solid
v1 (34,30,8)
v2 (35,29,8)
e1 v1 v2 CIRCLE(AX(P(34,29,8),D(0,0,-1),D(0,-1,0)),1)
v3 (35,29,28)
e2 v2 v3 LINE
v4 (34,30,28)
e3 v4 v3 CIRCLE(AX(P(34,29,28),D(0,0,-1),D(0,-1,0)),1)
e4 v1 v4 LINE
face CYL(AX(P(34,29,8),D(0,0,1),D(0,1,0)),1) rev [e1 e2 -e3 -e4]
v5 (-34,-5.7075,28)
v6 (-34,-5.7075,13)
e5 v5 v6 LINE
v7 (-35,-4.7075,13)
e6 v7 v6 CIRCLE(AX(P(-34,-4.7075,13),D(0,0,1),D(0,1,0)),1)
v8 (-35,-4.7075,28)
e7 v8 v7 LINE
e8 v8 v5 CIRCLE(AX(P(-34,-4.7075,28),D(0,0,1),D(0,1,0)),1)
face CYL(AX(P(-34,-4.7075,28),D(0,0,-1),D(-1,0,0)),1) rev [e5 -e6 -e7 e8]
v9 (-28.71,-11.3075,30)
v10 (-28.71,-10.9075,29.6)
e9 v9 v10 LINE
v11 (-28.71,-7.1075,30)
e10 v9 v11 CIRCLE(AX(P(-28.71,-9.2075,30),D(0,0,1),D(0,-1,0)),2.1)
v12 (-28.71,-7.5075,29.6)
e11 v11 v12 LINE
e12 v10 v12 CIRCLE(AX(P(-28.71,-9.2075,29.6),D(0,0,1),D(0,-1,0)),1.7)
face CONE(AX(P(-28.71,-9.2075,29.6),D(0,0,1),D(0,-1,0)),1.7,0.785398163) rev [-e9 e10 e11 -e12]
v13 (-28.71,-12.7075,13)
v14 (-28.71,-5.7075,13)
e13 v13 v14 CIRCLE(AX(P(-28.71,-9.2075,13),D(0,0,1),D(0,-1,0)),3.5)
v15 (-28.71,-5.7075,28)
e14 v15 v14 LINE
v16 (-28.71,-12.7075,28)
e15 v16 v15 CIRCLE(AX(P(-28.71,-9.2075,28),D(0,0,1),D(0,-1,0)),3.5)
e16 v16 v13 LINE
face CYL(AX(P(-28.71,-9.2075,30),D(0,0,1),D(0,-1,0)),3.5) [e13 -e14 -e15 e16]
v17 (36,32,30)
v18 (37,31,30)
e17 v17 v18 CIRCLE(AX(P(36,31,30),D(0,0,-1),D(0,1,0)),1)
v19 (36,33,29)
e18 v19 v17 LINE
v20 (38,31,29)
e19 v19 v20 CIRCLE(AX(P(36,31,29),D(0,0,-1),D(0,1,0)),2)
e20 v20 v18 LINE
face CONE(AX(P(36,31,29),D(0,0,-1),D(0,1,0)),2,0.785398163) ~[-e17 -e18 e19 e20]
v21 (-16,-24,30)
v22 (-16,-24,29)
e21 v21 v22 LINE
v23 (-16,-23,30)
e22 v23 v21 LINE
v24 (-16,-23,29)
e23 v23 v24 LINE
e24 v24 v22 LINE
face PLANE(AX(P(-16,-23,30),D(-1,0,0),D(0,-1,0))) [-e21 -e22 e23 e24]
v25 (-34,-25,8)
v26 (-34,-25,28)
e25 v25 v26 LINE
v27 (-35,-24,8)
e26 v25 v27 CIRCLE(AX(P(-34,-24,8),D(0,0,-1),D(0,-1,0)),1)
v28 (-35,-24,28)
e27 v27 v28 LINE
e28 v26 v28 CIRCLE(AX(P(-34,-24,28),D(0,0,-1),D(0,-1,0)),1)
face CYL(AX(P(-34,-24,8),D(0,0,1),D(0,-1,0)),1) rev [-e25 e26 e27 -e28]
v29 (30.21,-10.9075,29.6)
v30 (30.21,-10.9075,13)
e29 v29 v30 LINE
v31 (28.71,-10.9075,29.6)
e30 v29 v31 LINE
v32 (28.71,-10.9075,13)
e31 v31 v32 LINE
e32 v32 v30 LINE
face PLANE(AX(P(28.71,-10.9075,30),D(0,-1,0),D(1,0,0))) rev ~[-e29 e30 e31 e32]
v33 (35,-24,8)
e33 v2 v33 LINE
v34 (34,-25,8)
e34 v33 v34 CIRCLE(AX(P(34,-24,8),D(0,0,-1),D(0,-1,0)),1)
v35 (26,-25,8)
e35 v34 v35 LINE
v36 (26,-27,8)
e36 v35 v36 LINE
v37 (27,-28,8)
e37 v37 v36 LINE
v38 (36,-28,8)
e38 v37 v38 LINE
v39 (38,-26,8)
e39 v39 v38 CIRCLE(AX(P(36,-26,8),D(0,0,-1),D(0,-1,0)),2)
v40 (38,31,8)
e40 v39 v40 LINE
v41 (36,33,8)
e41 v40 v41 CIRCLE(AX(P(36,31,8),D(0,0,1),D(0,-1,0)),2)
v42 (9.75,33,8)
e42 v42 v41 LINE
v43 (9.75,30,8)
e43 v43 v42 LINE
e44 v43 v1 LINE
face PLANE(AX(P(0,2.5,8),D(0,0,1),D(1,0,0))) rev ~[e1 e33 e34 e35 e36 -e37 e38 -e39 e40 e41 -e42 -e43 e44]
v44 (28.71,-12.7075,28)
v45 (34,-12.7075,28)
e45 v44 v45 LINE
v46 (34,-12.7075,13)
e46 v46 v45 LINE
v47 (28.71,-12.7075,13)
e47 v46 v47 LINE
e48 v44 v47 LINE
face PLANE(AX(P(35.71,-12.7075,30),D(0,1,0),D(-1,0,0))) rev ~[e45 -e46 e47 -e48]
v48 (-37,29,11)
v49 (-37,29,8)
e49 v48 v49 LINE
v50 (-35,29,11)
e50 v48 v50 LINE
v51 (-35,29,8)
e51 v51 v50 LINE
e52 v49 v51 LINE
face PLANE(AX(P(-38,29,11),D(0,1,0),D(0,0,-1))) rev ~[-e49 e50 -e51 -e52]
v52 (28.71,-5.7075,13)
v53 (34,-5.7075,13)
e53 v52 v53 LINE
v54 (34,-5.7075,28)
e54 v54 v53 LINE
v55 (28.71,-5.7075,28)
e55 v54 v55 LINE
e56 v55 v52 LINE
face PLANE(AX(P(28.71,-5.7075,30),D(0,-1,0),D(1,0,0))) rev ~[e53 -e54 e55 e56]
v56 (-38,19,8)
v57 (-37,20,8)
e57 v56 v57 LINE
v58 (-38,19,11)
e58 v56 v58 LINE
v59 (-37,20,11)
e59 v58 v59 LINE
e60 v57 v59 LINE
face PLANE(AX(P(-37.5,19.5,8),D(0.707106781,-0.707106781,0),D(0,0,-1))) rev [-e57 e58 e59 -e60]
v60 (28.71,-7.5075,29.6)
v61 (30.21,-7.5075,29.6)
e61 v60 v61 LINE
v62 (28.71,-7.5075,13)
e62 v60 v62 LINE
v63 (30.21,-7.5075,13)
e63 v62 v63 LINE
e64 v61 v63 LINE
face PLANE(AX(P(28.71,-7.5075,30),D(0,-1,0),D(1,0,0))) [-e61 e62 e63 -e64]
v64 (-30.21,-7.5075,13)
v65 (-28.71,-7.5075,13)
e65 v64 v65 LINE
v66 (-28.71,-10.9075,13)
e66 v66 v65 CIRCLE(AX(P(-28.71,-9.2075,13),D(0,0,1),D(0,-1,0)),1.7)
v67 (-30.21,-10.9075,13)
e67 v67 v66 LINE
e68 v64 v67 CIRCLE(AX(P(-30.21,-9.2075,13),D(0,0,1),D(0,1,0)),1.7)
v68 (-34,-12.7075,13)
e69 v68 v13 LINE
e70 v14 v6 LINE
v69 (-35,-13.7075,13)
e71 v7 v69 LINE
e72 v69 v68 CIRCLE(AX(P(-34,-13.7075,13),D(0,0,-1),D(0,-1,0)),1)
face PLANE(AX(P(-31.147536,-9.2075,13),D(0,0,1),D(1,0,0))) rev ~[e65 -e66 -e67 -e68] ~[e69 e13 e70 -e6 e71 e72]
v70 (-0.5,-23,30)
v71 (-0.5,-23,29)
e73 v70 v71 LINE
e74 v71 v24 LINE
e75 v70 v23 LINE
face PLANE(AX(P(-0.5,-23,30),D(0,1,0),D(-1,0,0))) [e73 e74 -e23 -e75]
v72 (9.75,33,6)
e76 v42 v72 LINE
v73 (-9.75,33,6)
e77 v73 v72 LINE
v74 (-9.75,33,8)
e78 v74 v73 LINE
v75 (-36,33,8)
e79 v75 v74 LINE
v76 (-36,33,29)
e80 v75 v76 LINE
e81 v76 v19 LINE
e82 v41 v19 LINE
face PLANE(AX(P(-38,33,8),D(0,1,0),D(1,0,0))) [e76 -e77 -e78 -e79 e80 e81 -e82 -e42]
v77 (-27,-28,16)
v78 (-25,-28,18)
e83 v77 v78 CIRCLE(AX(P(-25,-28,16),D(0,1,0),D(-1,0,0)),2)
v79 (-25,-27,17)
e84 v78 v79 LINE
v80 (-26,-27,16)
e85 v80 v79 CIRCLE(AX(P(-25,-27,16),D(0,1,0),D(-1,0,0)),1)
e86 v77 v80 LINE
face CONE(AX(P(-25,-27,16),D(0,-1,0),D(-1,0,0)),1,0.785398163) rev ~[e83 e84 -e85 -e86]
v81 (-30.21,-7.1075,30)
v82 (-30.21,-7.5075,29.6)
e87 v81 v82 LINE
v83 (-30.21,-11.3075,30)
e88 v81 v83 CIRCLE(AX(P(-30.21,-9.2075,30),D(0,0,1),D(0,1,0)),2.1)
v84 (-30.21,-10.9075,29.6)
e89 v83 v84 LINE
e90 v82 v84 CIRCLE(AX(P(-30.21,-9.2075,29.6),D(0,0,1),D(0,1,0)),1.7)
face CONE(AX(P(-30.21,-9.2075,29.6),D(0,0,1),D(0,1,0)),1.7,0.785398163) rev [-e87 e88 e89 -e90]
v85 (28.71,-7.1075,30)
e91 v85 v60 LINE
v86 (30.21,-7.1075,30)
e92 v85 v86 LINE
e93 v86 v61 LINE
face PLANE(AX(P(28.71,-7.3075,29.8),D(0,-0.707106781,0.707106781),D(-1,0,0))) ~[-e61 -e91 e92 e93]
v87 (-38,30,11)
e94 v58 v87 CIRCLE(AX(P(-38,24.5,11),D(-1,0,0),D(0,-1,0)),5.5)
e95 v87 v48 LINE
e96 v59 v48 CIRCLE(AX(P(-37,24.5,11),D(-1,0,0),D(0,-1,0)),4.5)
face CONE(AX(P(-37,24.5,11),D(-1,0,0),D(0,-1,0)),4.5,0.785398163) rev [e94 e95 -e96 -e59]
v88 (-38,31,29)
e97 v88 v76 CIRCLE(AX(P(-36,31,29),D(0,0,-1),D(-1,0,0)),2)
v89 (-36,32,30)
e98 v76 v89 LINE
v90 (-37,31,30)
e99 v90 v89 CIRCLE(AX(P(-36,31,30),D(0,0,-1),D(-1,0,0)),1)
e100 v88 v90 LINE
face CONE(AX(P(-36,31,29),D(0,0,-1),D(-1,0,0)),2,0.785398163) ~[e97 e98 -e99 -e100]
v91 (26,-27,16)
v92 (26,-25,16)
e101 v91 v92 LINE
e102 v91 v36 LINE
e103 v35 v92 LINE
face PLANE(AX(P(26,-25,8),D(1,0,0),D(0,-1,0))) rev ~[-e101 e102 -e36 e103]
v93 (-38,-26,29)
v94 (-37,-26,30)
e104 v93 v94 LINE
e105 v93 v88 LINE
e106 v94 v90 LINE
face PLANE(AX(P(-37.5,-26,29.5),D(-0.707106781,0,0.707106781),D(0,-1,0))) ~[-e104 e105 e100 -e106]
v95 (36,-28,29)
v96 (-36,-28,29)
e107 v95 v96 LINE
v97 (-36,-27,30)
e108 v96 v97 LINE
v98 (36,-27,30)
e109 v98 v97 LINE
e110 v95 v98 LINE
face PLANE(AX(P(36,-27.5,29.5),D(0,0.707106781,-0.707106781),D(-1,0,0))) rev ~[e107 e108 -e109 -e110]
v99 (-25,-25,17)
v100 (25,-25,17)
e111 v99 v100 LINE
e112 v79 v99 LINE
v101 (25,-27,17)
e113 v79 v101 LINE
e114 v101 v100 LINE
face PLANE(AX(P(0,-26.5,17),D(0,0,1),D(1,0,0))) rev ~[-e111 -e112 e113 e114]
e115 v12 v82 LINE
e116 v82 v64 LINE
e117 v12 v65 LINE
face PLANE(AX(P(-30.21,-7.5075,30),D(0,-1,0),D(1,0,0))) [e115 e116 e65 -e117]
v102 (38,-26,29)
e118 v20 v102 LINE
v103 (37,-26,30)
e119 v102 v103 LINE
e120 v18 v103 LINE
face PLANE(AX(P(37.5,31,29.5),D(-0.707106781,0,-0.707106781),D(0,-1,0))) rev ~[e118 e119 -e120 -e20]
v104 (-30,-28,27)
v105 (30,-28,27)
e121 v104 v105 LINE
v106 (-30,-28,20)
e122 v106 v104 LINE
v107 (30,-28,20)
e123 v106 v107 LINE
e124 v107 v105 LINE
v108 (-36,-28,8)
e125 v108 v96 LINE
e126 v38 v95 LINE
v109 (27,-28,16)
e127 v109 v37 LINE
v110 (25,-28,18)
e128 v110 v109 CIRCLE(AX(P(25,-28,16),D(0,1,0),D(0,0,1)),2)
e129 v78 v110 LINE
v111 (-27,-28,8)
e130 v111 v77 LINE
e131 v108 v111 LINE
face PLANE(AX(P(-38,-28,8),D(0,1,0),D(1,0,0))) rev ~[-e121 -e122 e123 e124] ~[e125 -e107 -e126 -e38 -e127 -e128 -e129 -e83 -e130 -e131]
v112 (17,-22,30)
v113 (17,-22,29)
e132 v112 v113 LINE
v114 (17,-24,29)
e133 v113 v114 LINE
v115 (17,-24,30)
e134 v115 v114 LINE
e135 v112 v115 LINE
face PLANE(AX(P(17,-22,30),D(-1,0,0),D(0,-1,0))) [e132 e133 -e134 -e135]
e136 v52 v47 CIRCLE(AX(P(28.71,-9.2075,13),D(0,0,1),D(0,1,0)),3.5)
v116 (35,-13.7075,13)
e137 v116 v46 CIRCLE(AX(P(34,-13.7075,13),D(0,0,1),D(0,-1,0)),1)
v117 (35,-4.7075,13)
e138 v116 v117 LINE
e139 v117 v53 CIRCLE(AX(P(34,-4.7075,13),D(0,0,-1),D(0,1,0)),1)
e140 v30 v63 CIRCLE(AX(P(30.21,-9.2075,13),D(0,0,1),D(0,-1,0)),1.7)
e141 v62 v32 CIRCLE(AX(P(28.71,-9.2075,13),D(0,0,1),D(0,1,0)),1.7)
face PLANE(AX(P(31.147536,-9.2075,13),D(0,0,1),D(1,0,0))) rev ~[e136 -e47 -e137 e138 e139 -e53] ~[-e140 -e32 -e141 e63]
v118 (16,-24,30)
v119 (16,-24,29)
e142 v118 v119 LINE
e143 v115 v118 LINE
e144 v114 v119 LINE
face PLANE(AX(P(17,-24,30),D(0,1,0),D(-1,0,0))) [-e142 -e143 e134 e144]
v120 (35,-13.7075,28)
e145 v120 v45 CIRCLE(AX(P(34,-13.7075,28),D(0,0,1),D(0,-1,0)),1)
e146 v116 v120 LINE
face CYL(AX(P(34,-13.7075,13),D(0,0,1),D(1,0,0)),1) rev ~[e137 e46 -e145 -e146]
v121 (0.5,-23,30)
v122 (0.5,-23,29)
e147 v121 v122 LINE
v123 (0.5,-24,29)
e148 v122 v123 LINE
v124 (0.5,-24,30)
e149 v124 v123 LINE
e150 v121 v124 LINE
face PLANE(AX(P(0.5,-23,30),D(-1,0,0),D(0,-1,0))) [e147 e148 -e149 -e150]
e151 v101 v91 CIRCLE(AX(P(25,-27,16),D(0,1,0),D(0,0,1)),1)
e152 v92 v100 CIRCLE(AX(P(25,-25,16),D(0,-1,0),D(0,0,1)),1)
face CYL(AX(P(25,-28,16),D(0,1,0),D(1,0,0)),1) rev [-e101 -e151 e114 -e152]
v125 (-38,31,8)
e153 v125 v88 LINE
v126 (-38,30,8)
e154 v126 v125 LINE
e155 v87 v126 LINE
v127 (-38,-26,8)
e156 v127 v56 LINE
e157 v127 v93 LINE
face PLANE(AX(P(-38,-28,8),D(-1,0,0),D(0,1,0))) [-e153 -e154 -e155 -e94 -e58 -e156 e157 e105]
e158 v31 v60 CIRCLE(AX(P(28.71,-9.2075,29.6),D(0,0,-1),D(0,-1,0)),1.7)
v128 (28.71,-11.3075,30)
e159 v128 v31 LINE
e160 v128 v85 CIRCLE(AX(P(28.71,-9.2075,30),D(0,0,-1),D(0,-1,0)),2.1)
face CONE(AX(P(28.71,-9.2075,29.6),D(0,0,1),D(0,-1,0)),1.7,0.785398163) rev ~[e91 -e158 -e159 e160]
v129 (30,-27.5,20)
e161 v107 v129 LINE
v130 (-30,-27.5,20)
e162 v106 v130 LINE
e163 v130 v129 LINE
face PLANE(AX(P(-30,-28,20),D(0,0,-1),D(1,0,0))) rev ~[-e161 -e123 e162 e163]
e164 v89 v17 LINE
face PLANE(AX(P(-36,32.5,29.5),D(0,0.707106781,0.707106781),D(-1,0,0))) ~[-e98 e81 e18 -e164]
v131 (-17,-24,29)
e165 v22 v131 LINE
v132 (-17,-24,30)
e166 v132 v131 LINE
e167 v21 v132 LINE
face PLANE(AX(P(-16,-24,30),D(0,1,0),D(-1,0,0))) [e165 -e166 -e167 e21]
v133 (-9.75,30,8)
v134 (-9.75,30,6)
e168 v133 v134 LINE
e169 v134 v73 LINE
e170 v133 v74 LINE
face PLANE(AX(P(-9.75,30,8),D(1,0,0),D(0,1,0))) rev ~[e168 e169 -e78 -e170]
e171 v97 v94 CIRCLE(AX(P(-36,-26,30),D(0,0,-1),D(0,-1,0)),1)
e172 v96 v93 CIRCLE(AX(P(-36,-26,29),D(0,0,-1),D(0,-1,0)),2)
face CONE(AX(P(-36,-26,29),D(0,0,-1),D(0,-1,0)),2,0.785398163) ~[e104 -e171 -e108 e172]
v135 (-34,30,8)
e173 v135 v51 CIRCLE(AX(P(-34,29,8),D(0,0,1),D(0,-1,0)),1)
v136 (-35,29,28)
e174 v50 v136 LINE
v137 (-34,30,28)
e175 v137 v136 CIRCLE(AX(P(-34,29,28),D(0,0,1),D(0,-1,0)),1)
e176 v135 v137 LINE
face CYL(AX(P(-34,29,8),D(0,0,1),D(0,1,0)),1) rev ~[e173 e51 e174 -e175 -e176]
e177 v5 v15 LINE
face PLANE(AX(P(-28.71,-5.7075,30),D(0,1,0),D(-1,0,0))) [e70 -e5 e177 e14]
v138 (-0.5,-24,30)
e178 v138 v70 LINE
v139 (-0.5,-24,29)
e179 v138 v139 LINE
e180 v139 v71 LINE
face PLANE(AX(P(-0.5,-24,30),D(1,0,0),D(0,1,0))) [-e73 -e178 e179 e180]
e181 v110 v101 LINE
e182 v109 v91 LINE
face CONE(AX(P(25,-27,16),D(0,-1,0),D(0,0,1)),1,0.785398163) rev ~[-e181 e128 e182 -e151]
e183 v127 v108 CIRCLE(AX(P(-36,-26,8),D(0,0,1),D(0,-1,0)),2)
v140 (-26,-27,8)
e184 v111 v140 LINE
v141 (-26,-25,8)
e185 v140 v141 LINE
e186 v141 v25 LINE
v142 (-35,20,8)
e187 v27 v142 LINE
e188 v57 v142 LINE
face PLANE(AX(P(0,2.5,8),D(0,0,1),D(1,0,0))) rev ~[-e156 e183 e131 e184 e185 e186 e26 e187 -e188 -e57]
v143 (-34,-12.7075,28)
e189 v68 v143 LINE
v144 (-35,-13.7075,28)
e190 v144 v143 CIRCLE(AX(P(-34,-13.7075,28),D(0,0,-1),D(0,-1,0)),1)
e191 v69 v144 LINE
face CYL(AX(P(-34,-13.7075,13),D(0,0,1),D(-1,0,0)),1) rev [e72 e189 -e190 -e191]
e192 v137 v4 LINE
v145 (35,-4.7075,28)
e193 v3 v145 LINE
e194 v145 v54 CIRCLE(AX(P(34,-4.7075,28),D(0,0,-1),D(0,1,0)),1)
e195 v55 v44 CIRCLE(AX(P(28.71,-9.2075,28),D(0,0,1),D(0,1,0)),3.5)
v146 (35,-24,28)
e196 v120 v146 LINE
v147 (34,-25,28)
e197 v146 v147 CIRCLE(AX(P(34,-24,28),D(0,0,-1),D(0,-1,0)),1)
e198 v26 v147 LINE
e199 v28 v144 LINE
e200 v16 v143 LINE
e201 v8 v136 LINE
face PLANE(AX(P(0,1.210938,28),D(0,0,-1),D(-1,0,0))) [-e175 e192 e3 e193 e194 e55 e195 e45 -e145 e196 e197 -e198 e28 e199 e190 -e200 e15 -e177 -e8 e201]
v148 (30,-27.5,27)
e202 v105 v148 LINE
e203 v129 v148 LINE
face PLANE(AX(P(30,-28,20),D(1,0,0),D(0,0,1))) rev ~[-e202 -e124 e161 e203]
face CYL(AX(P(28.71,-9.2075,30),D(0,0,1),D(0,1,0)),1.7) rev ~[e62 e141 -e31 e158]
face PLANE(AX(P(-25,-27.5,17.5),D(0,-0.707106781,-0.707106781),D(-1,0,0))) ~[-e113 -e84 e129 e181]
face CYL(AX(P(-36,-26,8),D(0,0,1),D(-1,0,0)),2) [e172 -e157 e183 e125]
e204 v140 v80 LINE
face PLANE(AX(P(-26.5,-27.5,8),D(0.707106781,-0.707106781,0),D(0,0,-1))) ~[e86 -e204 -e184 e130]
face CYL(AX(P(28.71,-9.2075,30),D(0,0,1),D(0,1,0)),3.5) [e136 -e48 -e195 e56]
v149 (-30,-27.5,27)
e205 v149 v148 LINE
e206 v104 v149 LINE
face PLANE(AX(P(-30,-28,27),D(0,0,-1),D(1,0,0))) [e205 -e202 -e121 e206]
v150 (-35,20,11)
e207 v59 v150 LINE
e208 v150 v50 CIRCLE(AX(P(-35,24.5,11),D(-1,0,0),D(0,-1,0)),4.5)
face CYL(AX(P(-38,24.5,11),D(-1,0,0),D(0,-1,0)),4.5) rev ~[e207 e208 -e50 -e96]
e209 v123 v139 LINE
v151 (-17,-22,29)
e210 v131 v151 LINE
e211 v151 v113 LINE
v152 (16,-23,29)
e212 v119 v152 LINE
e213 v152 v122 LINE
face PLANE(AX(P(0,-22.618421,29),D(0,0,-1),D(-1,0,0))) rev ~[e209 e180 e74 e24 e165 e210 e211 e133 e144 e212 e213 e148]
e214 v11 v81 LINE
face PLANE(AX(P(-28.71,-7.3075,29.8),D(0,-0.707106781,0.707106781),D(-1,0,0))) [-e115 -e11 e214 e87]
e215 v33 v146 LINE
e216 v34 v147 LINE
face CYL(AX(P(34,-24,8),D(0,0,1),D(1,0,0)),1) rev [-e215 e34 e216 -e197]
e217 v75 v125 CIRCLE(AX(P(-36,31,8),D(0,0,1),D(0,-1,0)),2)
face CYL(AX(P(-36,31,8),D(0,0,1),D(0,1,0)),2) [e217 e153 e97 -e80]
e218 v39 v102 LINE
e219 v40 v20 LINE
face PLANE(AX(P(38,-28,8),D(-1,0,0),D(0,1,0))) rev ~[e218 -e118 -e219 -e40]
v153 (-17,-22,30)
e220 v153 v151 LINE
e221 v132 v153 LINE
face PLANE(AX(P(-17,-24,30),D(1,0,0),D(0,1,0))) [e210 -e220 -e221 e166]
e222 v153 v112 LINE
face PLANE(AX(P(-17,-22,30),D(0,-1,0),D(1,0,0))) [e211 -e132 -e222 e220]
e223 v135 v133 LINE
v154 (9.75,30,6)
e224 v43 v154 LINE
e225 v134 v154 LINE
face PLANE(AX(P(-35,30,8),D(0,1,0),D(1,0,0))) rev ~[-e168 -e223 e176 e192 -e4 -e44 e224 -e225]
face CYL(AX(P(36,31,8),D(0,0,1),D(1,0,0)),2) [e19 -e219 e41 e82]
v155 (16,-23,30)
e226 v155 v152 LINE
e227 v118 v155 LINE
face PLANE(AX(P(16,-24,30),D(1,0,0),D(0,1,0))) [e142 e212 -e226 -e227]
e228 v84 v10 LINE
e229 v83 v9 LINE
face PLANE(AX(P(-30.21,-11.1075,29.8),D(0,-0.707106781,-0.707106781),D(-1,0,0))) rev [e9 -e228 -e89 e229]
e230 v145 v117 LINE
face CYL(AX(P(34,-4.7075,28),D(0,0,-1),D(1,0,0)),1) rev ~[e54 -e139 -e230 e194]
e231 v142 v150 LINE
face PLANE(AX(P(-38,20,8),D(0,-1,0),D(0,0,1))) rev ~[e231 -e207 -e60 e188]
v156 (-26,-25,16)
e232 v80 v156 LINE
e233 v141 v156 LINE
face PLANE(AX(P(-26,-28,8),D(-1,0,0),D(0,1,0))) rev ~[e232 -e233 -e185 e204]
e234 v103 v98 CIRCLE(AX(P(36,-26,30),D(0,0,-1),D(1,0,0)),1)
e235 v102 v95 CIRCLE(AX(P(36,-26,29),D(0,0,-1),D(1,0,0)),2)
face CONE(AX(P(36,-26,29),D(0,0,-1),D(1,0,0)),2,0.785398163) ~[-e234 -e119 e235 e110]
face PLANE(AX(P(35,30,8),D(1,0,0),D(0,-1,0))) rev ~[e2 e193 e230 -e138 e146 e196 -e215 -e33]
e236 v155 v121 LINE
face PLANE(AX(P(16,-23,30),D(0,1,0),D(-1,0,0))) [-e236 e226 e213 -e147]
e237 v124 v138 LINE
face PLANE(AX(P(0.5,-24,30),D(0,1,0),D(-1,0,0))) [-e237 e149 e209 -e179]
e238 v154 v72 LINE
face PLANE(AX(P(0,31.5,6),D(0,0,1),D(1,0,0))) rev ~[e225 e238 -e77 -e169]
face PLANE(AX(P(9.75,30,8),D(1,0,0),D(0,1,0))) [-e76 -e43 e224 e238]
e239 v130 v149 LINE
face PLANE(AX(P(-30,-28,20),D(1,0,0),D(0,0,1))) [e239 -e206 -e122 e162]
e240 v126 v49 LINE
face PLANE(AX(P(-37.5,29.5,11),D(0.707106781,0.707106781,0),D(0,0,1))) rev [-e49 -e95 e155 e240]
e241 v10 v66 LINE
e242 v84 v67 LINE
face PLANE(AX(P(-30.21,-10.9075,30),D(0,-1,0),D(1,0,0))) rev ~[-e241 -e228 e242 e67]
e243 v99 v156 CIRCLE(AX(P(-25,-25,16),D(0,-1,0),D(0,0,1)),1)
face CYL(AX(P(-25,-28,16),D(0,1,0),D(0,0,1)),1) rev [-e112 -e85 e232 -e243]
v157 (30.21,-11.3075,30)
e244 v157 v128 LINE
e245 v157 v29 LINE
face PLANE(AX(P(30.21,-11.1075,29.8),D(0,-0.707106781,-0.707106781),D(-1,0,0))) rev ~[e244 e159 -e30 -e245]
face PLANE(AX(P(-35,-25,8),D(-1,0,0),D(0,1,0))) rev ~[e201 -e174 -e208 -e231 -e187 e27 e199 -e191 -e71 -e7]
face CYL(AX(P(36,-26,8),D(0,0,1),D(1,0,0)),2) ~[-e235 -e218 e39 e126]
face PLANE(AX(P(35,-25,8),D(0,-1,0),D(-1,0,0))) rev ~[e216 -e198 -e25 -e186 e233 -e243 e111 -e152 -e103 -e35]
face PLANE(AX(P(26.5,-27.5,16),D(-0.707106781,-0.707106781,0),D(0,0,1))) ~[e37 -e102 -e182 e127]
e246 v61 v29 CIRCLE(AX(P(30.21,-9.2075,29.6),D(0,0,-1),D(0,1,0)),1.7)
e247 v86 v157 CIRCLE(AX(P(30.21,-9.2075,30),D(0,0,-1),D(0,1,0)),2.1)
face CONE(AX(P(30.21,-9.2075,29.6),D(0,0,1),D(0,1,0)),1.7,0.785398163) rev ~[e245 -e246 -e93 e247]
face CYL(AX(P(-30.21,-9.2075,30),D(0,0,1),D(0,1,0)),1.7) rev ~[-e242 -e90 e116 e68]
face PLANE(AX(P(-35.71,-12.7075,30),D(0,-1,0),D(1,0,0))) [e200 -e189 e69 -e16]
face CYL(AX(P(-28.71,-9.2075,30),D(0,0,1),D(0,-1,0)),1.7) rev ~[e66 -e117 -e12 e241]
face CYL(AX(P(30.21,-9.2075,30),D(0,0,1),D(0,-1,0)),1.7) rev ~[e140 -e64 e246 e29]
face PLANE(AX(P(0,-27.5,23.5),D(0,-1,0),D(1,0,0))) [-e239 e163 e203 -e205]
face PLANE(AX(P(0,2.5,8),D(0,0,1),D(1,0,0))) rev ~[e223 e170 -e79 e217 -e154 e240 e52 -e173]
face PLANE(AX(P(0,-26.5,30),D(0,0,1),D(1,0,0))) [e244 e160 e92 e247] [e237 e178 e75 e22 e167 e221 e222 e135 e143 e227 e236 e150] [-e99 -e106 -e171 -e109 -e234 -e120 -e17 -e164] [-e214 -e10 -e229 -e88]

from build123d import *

# Parameters (mm, degrees)
SKETCH041_W              = 76
SKETCH041_H              = 61
PAD012_DEPTH             = 22
POCKET029_DEPTH          = 20
PAD013_DEPTH             = 17
POCKET030_DEPTH          = 22.001
SKETCH045_W              = 52
SKETCH045_H              = 3
PAD014_DEPTH             = 13
SKETCH046_W              = 19.5
SKETCH046_H              = 3
PAD015_DEPTH             = 2
FILLET007014_R           = 2
FILLET007015_R           = 1
POCKET041_DEPTH          = 5
CHAMFER013004014019_SIZE = 1
CHAMFER013004014020_SIZE = 1
CHAMFER013004014021_SIZE = 0.4
POCKET042_DEPTH          = 1
SKETCH061_W              = 60
SKETCH061_H              = 7
POCKET043_DEPTH          = 0.5


with BuildPart() as part:
    # Sketch041 → Pad012 (new body)
    with BuildSketch(Plane.XY):
        with Locations((0, 2.5)):
            Rectangle(SKETCH041_W, SKETCH041_H)
    extrude(amount=PAD012_DEPTH)

    # Sketch042 (on DatumPlane) → Pocket029 (cut)
    with BuildSketch(Plane.XY):
        Polygon((-26, -28), (-26, -25), (-35, -25), (-35, 30), (35, 30), (35, -25), (26, -25), (26, -28), align=None)
    extrude(amount=POCKET029_DEPTH, mode=Mode.SUBTRACT)

    # Sketch043 (on DatumPlane) → Pad013 (join)
    with BuildSketch(Plane.XY.offset(22)):
        with BuildLine():
            ThreePointArc((-28.71, -12.7075), (-25.21, -9.2075), (-28.71, -5.7075))
            Line((-28.71, -5.7075), (-35.71, -5.7075))
            Line((-35.71, -5.7075), (-35.71, -12.7075))
            Line((-35.71, -12.7075), (-28.71, -12.7075))
        make_face()
        with BuildLine():
            ThreePointArc((28.71, -5.7075), (25.21, -9.2075), (28.71, -12.7075))
            Line((35.71, -12.7075), (28.71, -12.7075))
            Line((35.71, -5.7075), (35.71, -12.7075))
            Line((28.71, -5.7075), (35.71, -5.7075))
        make_face()
    extrude(amount=-PAD013_DEPTH)

    # Sketch044 (on DatumPlane) → Pocket030 (cut, through all)
    with BuildSketch(Plane.XY.offset(22)):
        with BuildLine():
            ThreePointArc((-30.21, -7.5075), (-31.91, -9.2075), (-30.21, -10.9075))
            Line((-30.21, -10.9075), (-28.71, -10.9075))
            ThreePointArc((-28.71, -10.9075), (-27.01, -9.2075), (-28.71, -7.5075))
            Line((-30.21, -7.5075), (-28.71, -7.5075))
        make_face()
        with BuildLine():
            ThreePointArc((28.71, -7.5075), (27.01, -9.2075), (28.71, -10.9075))
            Line((28.71, -10.9075), (30.21, -10.9075))
            ThreePointArc((30.21, -10.9075), (31.91, -9.2075), (30.21, -7.5075))
            Line((28.71, -7.5075), (30.21, -7.5075))
        make_face()
    extrude(amount=-POCKET030_DEPTH, mode=Mode.SUBTRACT)

    # Sketch045 (on DatumPlane) → Pad014 (join)
    with BuildSketch(Plane.XY.offset(22)):
        with Locations((0, -26.5)):
            Rectangle(SKETCH045_W, SKETCH045_H)
    extrude(amount=-PAD014_DEPTH)

    # Sketch046 (on DatumPlane) → Pad015 (join)
    with BuildSketch(Plane.XY):
        with Locations((0, 31.5)):
            Rectangle(SKETCH046_W, SKETCH046_H)
    extrude(amount=-PAD015_DEPTH)

    # Fillet007014
    fillet007014_edges = [part.edges().sort_by_distance(p)[0] for p in [
        (-38, -28, 11),
        (38, -28, 11),
        (38, 33, 11),
        (-38, 33, 11),
    ]]
    fillet(fillet007014_edges, radius=FILLET007014_R)

    # Fillet007015
    fillet007015_edges = [part.edges().sort_by_distance(p)[0] for p in [
        (26, -26.5, 9),
        (-26, -26.5, 9),
        (35, -25, 10),
        (35, -12.7075, 12.5),
        (35, -5.7075, 12.5),
        (35, 30, 10),
        (-35, 30, 10),
        (-35, -5.7075, 12.5),
        (-35, -12.7075, 12.5),
        (-35, -25, 10),
    ]]
    fillet(fillet007015_edges, radius=FILLET007015_R)

    # Sketch059 (on Face10 of Fillet007015) → Pocket041 (cut)
    with BuildSketch(Plane(origin=(-38, 0, 0), x_dir=(0, -1, 0), z_dir=(-1, 0, 0))):
        with BuildLine():
            ThreePointArc((-20, 3), (-24.5, 7.5), (-29, 3))
            Line((-29, 3), (-29, 0))
            Line((-29, 0), (-20, 0))
            Line((-20, 0), (-20, 3))
        make_face()
    extrude(amount=-POCKET041_DEPTH, mode=Mode.SUBTRACT)

    # Chamfer013004014019
    chamfer013004014019_edges = [part.edges().sort_by_distance(p)[0] for p in [
        (-38, 29, 1.5),
        (-38, 24.5, 7.5),
        (-38, 20, 1.5),
    ]]
    chamfer(chamfer013004014019_edges, length=CHAMFER013004014019_SIZE)

    # Chamfer013004014020
    chamfer013004014020_edges = [part.edges().sort_by_distance(p)[0] for p in [
        (-38, 2.5, 22),
        (-37.414214, 32.414214, 22),
        (0, 33, 22),
        (37.414214, 32.414214, 22),
        (38, 2.5, 22),
        (37.414214, -27.414214, 22),
        (0, -28, 22),
        (-37.414214, -27.414214, 22),
        (-26, -28, 4),
        (-25.707107, -28, 8.707107),
        (0, -28, 9),
        (25.707107, -28, 8.707107),
        (26, -28, 4),
    ]]
    chamfer(chamfer013004014020_edges, length=CHAMFER013004014020_SIZE)

    # Chamfer013004014021
    chamfer013004014021_edges = [part.edges().sort_by_distance(p)[0] for p in [
        (-31.91, -9.2075, 22),
        (-29.46, -7.5075, 22),
        (-27.01, -9.2075, 22),
        (-29.46, -10.9075, 22),
        (29.46, -7.5075, 22),
        (27.01, -9.2075, 22),
        (31.91, -9.2075, 22),
        (29.46, -10.9075, 22),
    ]]
    chamfer(chamfer013004014021_edges, length=CHAMFER013004014021_SIZE)

    # Sketch060 (on DatumPlane) → Pocket042 (cut)
    with BuildSketch(Plane.XY.offset(22)):
        Polygon((-17, -24), (-17, -22), (17, -22), (17, -24), (16, -24), (16, -23), (0.5, -23), (0.5, -24), (-0.5, -24), (-0.5, -23), (-16, -23), (-16, -24), align=None)
    extrude(amount=-POCKET042_DEPTH, mode=Mode.SUBTRACT)

    # Sketch061 (on Face33 of Pocket042) → Pocket043 (cut)
    with BuildSketch(Plane.XZ.offset(28)):
        with Locations((0, 15.5)):
            Rectangle(SKETCH061_W, SKETCH061_H)
    extrude(amount=-POCKET043_DEPTH, mode=Mode.SUBTRACT)


with BuildPart() as part_1:
    # Body002005 placement: moved
    add(part.part.moved(Location((0, 0, 8))))


solid = part_1.part
